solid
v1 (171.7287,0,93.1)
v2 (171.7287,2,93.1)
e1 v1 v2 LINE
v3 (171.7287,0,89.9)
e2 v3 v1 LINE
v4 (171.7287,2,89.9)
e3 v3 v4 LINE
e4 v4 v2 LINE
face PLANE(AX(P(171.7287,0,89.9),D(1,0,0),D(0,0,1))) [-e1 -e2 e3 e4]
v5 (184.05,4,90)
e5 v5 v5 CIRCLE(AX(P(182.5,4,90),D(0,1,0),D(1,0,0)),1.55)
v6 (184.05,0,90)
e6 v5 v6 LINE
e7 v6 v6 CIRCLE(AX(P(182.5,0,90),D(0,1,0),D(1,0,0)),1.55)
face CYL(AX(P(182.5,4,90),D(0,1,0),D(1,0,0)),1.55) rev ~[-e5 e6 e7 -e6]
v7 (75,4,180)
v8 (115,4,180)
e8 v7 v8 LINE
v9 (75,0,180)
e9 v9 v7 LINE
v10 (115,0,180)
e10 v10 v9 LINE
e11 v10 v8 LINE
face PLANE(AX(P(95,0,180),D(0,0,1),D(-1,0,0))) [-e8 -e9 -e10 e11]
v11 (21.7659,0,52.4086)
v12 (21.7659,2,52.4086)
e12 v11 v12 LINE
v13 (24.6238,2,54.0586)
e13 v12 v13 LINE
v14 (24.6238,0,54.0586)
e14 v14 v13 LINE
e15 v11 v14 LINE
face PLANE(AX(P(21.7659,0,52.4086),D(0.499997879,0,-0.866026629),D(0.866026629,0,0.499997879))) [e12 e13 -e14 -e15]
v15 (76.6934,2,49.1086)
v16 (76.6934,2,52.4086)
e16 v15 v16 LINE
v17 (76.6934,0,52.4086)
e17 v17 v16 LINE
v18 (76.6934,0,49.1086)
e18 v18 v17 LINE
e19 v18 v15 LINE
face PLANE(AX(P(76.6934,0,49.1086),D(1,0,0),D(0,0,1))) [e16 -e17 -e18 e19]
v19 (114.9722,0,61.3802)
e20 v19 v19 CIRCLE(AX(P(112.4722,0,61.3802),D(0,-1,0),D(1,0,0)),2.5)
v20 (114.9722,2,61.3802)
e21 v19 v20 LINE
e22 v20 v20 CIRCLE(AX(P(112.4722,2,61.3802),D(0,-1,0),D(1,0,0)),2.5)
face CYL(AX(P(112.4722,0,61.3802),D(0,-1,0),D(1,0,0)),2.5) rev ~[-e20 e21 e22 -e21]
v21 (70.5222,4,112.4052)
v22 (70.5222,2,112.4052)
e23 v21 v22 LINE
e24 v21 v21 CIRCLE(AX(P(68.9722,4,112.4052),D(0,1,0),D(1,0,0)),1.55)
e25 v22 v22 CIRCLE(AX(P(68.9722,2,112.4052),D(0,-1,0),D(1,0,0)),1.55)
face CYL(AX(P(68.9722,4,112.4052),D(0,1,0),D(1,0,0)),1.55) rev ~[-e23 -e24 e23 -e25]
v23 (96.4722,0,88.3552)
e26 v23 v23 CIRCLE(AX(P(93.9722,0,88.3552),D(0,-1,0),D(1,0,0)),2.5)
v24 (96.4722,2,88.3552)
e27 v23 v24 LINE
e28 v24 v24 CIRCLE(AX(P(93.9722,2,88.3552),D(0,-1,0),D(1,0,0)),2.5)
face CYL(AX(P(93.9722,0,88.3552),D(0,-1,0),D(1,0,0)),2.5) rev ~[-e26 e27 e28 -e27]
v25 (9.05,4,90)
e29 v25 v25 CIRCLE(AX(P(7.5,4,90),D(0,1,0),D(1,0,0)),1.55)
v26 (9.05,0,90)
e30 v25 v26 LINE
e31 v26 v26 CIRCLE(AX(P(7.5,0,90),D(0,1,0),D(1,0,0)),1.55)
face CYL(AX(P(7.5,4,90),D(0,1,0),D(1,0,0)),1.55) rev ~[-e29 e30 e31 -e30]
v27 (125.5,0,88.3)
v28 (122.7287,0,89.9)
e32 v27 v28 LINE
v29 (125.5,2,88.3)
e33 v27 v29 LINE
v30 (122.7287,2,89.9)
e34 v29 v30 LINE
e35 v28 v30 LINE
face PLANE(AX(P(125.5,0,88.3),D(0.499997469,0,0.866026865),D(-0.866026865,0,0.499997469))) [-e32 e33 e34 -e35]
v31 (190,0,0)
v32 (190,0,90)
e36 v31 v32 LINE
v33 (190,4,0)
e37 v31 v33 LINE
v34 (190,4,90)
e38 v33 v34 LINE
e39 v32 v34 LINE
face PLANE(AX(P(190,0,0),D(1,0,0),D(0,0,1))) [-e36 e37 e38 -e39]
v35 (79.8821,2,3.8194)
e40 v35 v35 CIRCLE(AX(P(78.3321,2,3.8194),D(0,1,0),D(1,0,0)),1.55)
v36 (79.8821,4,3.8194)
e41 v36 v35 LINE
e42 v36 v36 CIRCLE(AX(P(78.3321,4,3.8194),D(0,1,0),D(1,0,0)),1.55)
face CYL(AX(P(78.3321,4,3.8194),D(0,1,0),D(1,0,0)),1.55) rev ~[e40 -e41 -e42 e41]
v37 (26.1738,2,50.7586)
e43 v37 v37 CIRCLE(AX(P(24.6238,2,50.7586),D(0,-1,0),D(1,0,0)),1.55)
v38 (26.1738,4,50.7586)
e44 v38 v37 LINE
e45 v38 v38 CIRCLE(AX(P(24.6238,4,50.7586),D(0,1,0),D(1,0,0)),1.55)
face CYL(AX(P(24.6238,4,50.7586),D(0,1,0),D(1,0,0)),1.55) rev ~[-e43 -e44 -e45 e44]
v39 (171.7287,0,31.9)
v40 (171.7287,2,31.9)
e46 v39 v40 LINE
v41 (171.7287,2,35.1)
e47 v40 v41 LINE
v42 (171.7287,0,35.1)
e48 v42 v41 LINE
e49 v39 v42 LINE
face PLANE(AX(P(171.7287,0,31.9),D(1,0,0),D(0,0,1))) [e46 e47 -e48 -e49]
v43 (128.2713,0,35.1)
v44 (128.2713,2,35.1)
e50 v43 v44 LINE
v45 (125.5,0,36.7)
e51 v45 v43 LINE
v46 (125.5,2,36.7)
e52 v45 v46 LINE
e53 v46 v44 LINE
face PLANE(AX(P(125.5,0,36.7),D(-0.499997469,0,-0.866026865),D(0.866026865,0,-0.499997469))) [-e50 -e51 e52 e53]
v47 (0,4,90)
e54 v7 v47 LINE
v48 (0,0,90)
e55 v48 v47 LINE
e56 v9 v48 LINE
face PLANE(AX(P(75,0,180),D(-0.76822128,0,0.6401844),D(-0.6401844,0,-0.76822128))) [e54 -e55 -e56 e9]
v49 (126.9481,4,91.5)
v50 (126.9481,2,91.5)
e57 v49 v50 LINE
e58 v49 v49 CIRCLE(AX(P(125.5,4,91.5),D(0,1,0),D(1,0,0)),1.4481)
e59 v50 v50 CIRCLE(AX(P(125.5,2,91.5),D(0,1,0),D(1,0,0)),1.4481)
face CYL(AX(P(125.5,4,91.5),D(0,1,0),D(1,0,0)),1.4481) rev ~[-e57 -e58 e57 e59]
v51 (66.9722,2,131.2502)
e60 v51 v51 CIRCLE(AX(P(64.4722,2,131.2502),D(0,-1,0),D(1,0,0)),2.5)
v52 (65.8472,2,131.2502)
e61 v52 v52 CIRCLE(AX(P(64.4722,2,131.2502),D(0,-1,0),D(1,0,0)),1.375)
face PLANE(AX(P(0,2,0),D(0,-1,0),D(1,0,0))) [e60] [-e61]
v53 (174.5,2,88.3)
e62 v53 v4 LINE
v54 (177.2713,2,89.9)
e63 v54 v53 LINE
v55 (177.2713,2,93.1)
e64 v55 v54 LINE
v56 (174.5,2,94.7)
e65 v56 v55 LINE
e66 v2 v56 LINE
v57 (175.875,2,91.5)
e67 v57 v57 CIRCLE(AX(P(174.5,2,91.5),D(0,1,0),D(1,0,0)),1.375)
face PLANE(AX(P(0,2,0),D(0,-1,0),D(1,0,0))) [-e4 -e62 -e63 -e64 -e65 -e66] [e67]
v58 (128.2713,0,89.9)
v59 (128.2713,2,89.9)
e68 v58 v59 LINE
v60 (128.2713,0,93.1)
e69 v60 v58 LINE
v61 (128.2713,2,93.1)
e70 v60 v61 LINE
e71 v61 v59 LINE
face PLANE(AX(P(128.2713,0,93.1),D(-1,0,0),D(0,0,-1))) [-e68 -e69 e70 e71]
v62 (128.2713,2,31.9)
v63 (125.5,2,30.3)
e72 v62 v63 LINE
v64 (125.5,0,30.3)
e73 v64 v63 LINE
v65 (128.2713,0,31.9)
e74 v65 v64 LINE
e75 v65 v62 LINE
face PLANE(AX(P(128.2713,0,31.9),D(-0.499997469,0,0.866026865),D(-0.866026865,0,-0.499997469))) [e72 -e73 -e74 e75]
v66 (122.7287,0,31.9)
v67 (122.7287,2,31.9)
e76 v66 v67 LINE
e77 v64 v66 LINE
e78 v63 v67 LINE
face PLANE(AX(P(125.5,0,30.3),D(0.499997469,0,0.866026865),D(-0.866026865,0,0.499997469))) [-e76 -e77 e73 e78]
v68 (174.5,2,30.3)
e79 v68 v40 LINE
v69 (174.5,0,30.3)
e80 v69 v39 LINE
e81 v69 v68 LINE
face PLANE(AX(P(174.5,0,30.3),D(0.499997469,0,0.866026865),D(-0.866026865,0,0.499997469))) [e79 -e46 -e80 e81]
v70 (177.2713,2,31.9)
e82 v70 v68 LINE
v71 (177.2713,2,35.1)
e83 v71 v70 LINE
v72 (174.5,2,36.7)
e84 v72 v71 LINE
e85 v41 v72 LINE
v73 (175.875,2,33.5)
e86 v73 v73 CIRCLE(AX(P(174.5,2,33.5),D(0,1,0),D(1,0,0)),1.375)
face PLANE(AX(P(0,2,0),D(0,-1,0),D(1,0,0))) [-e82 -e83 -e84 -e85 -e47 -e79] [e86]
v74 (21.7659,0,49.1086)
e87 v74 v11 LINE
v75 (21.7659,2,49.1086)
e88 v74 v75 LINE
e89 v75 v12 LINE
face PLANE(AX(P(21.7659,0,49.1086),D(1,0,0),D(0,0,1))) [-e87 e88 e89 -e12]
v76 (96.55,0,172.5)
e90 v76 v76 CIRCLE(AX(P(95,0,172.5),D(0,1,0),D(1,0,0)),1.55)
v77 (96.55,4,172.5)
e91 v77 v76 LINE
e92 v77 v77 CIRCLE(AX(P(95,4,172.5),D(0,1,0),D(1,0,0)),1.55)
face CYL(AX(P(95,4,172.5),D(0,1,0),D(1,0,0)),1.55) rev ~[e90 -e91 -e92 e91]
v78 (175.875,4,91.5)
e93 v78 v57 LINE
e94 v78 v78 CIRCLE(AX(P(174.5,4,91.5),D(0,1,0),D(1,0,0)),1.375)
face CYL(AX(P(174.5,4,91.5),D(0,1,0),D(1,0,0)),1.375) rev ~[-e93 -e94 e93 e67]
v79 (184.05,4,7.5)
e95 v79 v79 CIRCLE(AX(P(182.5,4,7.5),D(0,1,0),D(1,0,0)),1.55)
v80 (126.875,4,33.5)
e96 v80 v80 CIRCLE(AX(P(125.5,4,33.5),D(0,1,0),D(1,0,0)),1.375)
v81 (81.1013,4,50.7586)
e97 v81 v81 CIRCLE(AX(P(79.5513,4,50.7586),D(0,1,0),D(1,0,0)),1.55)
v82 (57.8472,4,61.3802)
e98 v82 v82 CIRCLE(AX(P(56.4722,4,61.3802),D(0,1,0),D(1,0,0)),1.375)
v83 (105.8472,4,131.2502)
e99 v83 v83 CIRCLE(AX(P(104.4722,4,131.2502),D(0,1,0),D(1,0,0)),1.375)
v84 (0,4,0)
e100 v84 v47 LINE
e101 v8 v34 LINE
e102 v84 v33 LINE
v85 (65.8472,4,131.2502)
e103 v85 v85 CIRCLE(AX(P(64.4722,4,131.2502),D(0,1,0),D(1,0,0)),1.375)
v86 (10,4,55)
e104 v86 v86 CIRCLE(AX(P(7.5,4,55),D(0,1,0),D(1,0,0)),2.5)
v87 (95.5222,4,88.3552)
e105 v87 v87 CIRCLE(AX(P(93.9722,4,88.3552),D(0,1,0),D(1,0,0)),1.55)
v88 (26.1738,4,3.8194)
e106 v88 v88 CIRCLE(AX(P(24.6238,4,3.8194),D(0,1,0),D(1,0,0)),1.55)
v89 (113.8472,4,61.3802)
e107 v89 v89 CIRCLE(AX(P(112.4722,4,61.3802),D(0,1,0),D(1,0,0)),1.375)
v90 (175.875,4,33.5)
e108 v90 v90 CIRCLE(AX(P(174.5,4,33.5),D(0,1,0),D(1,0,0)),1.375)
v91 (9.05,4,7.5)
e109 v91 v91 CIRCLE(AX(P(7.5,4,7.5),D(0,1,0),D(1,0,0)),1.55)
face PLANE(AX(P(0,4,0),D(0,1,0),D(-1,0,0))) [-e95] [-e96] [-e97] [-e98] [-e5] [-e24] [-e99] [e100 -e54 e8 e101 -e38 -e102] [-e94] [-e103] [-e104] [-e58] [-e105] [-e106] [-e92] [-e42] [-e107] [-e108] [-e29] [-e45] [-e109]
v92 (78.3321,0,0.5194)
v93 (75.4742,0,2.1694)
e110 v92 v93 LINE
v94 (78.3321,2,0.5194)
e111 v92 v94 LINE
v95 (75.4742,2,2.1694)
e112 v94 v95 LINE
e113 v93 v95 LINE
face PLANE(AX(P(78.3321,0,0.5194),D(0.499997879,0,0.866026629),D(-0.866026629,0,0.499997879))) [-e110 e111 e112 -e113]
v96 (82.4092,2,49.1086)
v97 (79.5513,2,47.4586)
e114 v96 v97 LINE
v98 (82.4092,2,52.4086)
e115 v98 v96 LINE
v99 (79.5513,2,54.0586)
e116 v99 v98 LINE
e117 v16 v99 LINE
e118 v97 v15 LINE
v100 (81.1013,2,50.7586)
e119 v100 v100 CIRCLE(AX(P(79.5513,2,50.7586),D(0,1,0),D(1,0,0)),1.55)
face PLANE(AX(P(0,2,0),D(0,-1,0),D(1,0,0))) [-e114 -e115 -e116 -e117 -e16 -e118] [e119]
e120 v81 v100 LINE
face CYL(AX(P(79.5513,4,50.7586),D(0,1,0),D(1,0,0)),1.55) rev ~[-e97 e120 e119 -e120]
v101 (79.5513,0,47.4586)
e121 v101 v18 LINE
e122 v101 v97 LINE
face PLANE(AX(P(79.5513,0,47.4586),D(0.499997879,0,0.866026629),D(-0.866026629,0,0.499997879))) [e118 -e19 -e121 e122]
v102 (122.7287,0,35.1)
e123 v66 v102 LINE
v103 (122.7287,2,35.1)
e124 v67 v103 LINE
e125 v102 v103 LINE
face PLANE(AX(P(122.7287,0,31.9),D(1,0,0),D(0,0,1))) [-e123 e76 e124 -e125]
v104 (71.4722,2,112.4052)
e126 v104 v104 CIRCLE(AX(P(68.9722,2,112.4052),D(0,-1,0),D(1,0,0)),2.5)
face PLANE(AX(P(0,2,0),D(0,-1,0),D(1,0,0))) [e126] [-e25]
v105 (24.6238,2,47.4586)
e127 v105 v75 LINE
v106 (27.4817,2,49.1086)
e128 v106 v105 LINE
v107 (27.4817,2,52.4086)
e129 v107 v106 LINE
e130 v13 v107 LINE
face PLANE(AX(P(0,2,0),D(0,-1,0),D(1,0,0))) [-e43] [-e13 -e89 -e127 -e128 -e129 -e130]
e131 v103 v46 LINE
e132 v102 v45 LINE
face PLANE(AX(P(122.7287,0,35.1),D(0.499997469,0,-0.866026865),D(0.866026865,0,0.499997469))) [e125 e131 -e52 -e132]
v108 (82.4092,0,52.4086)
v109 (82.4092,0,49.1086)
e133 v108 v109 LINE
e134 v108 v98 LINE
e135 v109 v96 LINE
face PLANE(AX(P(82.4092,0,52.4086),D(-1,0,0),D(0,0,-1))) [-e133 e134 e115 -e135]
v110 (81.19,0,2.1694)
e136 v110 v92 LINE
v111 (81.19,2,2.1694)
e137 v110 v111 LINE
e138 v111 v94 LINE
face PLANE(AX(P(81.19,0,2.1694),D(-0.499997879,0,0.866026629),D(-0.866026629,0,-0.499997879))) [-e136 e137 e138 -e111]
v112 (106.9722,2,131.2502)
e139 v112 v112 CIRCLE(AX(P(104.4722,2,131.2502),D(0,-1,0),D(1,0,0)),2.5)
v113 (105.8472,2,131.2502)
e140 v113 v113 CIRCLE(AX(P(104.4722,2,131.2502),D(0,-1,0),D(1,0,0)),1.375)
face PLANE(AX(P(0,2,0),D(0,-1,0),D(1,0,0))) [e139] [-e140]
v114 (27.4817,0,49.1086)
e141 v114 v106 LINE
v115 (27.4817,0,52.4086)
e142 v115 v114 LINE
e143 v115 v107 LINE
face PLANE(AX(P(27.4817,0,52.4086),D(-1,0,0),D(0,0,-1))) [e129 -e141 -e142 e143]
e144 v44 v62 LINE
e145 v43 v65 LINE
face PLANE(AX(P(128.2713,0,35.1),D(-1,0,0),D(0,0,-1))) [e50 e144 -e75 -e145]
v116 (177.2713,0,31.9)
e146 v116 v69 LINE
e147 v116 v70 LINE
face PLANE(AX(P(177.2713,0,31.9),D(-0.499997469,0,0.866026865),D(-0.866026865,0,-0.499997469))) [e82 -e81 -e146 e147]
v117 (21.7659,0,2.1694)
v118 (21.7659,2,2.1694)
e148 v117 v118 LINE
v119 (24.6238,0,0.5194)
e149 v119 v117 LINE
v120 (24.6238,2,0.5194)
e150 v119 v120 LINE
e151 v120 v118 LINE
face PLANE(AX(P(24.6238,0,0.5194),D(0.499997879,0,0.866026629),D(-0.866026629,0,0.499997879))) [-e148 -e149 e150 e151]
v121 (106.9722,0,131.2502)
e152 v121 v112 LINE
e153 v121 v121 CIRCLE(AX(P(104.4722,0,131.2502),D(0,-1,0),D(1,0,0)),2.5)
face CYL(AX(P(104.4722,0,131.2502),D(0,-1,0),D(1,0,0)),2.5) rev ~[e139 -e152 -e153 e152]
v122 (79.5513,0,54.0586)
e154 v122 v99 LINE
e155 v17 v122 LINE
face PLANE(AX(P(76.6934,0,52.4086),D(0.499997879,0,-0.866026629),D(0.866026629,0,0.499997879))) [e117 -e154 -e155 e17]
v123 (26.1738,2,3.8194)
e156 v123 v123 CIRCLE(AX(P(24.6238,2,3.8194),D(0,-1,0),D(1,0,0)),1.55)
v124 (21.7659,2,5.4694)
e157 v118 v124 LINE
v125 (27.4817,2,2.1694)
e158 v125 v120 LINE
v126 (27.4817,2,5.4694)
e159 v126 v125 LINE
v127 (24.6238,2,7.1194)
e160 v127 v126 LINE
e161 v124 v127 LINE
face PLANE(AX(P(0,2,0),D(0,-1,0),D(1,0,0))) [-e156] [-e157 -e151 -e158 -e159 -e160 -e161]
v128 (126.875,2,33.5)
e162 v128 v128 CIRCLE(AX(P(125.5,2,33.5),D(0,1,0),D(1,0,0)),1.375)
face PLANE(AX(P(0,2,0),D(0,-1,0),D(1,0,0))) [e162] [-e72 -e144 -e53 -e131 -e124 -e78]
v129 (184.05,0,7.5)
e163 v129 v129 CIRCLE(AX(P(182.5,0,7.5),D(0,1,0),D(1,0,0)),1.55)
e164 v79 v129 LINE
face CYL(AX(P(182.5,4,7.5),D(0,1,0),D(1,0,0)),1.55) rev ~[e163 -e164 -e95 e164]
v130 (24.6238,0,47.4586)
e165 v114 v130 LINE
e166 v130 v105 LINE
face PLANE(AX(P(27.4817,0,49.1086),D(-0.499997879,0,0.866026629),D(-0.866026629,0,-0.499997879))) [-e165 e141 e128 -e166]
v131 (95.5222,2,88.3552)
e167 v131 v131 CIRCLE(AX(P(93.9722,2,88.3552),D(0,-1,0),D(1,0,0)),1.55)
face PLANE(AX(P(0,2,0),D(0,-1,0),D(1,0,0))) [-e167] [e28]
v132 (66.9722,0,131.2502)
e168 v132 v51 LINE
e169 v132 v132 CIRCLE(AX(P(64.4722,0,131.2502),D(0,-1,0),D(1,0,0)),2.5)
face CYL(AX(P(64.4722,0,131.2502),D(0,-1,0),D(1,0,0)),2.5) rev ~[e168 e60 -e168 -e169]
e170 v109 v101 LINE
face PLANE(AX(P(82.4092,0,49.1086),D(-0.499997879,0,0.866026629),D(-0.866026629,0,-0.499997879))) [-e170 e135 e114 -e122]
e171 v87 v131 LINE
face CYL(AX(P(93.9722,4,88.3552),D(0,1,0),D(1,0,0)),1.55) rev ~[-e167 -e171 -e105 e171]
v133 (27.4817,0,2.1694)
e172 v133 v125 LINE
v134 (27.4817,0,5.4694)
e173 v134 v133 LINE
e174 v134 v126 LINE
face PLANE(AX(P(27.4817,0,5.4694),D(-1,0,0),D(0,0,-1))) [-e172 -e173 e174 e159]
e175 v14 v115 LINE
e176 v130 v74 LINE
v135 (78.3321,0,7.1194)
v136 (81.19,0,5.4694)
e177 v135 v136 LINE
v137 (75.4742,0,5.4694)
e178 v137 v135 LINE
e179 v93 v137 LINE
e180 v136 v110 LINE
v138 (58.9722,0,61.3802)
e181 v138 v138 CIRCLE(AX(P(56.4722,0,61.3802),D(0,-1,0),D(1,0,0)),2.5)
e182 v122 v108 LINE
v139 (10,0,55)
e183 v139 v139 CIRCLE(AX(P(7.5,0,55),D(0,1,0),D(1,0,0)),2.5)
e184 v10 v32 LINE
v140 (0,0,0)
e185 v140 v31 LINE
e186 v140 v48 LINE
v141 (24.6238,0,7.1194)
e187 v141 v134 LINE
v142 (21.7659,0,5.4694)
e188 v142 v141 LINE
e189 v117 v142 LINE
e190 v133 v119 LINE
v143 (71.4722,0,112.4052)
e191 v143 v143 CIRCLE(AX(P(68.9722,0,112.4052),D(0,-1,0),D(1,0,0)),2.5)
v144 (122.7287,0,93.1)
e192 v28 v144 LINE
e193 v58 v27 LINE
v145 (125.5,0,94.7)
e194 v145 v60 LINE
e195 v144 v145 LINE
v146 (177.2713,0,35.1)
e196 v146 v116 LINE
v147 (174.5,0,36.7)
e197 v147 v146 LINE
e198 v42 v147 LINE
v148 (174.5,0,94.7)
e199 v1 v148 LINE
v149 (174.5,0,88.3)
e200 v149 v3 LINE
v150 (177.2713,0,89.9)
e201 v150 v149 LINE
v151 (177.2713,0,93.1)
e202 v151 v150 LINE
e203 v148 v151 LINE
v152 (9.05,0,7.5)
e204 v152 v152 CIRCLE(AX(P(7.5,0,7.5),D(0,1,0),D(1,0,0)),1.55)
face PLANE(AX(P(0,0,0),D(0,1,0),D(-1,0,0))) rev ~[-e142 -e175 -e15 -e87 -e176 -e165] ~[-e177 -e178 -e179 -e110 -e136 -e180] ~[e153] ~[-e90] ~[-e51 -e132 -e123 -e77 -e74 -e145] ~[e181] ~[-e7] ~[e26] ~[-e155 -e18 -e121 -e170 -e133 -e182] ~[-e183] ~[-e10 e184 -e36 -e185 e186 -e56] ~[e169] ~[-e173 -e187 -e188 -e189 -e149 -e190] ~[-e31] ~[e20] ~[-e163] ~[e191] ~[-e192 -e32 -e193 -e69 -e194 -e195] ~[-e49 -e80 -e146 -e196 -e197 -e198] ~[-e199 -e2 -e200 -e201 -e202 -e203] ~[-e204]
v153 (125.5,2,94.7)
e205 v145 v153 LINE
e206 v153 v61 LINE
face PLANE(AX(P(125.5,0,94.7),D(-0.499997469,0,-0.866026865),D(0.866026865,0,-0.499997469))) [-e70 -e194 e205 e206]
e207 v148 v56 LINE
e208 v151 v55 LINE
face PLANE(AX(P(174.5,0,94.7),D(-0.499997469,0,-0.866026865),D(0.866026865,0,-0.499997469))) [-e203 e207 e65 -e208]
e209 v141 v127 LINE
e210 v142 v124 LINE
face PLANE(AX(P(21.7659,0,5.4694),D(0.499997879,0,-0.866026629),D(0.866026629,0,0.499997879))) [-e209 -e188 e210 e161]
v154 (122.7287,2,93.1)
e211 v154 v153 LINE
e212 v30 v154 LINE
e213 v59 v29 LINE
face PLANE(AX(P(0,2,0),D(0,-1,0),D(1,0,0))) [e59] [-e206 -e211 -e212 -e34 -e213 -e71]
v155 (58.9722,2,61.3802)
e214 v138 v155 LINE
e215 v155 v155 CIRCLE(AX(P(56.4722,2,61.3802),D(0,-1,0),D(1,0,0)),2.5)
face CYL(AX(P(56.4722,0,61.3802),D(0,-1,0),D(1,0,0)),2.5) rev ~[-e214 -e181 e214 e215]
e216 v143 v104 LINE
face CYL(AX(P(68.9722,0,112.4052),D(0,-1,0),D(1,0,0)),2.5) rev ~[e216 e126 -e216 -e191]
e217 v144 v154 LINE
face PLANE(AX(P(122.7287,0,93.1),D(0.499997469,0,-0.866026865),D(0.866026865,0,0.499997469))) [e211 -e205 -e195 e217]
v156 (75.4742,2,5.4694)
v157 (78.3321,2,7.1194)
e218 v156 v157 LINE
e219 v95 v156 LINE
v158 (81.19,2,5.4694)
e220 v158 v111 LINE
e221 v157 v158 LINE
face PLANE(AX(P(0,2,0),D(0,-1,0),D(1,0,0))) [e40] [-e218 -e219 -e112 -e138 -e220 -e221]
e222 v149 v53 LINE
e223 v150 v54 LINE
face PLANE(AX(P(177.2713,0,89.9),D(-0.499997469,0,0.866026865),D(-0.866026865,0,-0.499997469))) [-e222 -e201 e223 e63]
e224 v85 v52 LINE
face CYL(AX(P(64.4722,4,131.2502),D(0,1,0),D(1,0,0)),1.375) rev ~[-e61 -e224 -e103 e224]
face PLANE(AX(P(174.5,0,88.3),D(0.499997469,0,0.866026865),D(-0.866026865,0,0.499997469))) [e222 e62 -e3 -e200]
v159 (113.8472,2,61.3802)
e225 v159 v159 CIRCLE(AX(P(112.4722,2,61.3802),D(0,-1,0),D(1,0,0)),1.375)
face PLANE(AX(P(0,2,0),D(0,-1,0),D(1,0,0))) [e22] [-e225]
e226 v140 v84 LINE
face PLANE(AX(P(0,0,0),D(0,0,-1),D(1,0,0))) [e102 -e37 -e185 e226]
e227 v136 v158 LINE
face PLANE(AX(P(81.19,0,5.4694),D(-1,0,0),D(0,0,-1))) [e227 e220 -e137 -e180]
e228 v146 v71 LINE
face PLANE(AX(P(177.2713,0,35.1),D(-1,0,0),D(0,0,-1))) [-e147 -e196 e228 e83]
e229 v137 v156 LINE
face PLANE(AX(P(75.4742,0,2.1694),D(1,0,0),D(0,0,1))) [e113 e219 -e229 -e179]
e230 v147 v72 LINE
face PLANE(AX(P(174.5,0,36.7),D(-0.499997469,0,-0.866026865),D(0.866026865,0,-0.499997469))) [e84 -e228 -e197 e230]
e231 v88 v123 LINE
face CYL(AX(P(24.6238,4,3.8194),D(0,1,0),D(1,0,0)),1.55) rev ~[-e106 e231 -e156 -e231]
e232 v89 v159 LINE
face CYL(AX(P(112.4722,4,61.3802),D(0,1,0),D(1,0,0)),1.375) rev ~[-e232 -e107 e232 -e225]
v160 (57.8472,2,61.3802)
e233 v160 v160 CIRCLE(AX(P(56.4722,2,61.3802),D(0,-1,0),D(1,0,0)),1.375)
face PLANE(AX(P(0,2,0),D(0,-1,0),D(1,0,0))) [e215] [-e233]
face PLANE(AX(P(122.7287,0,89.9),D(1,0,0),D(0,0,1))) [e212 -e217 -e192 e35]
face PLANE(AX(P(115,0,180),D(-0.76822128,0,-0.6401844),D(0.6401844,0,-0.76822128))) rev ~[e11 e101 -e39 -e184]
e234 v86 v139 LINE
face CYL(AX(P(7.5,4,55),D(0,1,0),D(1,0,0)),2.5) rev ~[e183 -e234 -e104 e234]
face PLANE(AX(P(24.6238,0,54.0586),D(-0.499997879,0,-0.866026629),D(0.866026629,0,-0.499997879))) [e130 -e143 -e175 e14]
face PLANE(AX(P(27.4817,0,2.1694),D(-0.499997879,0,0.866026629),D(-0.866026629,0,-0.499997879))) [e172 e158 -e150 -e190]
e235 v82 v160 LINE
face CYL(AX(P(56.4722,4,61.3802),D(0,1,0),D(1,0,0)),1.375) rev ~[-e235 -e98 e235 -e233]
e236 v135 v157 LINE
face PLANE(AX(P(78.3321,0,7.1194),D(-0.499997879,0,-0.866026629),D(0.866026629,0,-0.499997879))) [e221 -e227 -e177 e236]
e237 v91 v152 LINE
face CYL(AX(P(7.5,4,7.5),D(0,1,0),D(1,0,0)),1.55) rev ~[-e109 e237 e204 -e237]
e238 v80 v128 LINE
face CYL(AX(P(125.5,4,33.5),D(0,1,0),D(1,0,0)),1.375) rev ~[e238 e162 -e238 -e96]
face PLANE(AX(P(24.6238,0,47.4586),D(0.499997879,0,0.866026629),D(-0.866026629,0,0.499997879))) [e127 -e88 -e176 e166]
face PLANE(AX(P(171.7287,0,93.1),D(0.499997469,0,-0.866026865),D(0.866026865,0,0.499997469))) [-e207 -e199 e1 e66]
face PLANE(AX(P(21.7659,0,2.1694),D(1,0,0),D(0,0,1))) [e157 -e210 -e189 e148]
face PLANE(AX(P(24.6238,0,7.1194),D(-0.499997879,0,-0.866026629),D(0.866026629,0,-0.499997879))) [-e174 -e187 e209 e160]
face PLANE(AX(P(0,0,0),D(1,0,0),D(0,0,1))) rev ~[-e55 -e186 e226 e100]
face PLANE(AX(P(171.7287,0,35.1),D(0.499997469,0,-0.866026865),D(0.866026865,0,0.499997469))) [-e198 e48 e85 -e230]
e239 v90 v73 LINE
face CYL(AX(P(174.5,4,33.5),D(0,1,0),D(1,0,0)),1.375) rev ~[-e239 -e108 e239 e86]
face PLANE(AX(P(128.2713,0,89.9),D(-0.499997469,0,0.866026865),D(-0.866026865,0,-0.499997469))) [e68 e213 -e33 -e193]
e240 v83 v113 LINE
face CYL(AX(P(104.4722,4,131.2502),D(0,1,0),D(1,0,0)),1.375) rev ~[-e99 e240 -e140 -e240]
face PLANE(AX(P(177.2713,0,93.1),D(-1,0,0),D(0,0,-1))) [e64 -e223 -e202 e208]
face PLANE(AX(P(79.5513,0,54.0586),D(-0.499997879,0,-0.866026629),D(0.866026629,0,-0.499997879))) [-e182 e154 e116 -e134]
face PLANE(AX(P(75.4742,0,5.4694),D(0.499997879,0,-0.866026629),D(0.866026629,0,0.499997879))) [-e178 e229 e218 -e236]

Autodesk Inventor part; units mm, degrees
ref_plane "YZ Plane" through (0, 0, 0) normal (1, 0, 0) x (0, 1, 0)
ref_plane "XZ Plane" through (0, 0, 0) normal (0, 1, 0) x (-1, 0, 0)
ref_plane "XY Plane" through (0, 0, 0) normal (0, 0, 1) x (1, 0, 0)
sketch "Sketch1" plane through (0, 0, 0) normal (0, 1, 0) x (-1, 0, 0)
  line L0 (0, 0) -> (-190, 0)
  line L1 (-95, 180) -> (-75, 180)
  line L2 (-75, 180) -> (0, 90)
  line L3 (-95, 180) -> (-115, 180)
  line L4 (-115, 180) -> (-190, 90)
  line L5 (0, 0) -> (0, 90)
  line L6 (-190, 0) -> (-190, 90)
  dimension "d1" = 190
  dimension "d39" = 20
  dimension "d40" = 20
extrude "Extrusion1" add sketch "Sketch1" along normal blind 4
sketch "Sketch14" plane through (0, 4, 0) normal (0, 1, 0) x (1, 0, 0)
  line L0 (190, 0) -> (0, 0) projected
  line L1 (0, 0) -> (0, -7.5)
  line L2 (0, 0) -> (0, -15) projected
  line L3 (0, -90) -> (75, -180) projected
  circle A0 centre (7.5, -7.5) radius 1.55
  circle A1 centre (7.5, -90) radius 1.55
  line L4 (75, -180) -> (115, -180) projected
  circle A2 centre (182.5, -7.5) radius 1.55
  circle A3 centre (182.5, -90) radius 1.55
  circle A4 centre (95, -172.5) radius 1.55
  dimension "d68" = 7.5
  dimension "d71" = 3.1
  dimension "d72" = 3.1
  dimension "d74" = 3.1
extrude "Extrusion10" cut sketch "Sketch14" against normal blind 10
sketch "Sketch17" plane through (0, 4, 0) normal (0, 1, 0) x (1, 0, 0)
  line L0 (93.28, -54.34) -> (12, -54.34)
  line L1 (12, -54.34) -> (12, -1)
  line L2 (12, -1) -> (93.28, -1)
  line L3 (93.28, -1) -> (93.28, -54.34)
  line L4 (93.28, -54.34) -> (93.28, -50.7586)
  circle A0 centre (79.5513, -50.7586) radius 1.55
  circle A1 centre (24.6238, -50.7586) radius 1.55
  line L5 (93.28, -1) -> (93.28, -3.8194)
  circle A2 centre (78.3321, -3.8194) radius 1.55
  circle A3 centre (24.6238, -3.8194) radius 1.55
  point P0 (0, 0)
  dimension "d101" = 81.28
  dimension "d102" = 53.34
  dimension "d106" = 3.1
  dimension "d107" = 3.1
  dimension "d111" = 3.1
  dimension "d112" = 3.1
  dimension "d113" = 14.9479
  dimension "d114" = 2.8194
  dimension "d115" = 12.6238
  dimension "d116" = 2.8194
  dimension "d117" = 12.6238
  dimension "d118" = 3.5814
  dimension "d119" = 3.5814
  dimension "d120" = 13.7287
sketch "Sketch18" plane through (0, 4, 0) normal (0, 1, 0) x (1, 0, 0)
  line L0 (190, 0) -> (0, 0) projected
  line L1 (190, -90) -> (190, 0) projected
  line L2 (175, -10) -> (125, -10)
  line L3 (122, -13) -> (122, -92)
  line L4 (125, -95) -> (175, -95)
  line L5 (178, -92) -> (178, -13)
  circle A0 centre (174.5, -91.5) radius 1.375
  circle A1 centre (125.5, -91.5) radius 1.4481
  circle A2 centre (125.5, -33.5) radius 1.375
  circle A3 centre (174.5, -33.5) radius 1.375
  arc A4 (125, -10) -> (122, -13) centre (125, -13) ccw
  arc A5 (178, -13) -> (175, -10) centre (175, -13) ccw
  arc A6 (175, -95) -> (178, -92) centre (175, -92) ccw
  arc A7 (122, -92) -> (125, -95) centre (125, -92) ccw
  point P0 (122, -10)
  dimension "d129" = 2.75
  dimension "d130" = 3.5
  dimension "d131" = 3.5
  dimension "d132" = 49
  dimension "d133" = 3.5
  dimension "d134" = 2.75
  dimension "d135" = 3.5
  dimension "d136" = 58
  dimension "d137" = 2.75
  dimension "d138" = 3.5
  dimension "d139" = 49
  dimension "d140" = 3
  dimension "d141" = 3
  dimension "d142" = 3
  dimension "d143" = 3
sketch "Sketch19" plane through (0, 4, 0) normal (0, 1, 0) x (1, 0, 0)
  line L0 (49.4722, -56.3802) -> (119.4722, -56.3802)
  line L1 (119.4722, -56.3802) -> (119.4722, -154.8802)
  line L2 (119.4722, -154.8802) -> (49.4722, -154.8802)
  line L3 (49.4722, -154.8802) -> (49.4722, -56.3802)
  circle A0 centre (56.4722, -61.3802) radius 1.375
  circle A1 centre (112.4722, -61.3802) radius 1.375
  circle A2 centre (104.4722, -131.2502) radius 1.375
  circle A3 centre (64.4722, -131.2502) radius 1.375
  point P0 (0, 0)
  dimension "d144" = 70
  dimension "d145" = 98.5
  dimension "d151" = 2.75
  dimension "d152" = 2.75
  dimension "d153" = 2.75
  dimension "d154" = 2.75
  dimension "d155" = 5
  dimension "d156" = 69.87
  dimension "d157" = 5
  dimension "d158" = 69.87
  dimension "d159" = 40
  dimension "d160" = 56
extrude "Extrusion13" cut sketch "Sketch17" against normal through all contours A0 | A1 | A2 | A3
extrude "Extrusion14" cut sketch "Sketch18" against normal through all contours A0 | A1 | A2 | A3
extrude "Extrusion15" cut sketch "Sketch19" against normal through all contours A0 | A1 | A2 | A3
sketch "Sketch22" plane through (0, 0, 0) normal (0, -1, 0) x (1, 0, 0)
  circle A0 centre (112.4722, 61.3802) radius 1.375 projected
  circle A1 centre (112.4722, 61.3802) radius 2.5
  circle A2 centre (56.4722, 61.3802) radius 1.375 projected
  circle A3 centre (56.4722, 61.3802) radius 2.5
  circle A4 centre (64.4722, 131.2502) radius 1.375 projected
  circle A5 centre (64.4722, 131.2502) radius 2.5
  circle A6 centre (104.4722, 131.2502) radius 1.375 projected
  circle A7 centre (104.4722, 131.2502) radius 2.5
  point P0 (0, 0)
  dimension "d171" = 5
  dimension "d172" = 5
  dimension "d173" = 5
  dimension "d174" = 5
extrude "Extrusion16" cut sketch "Sketch22" against normal blind 2
sketch "Sketch23" plane through (0, 0, 0) normal (0, -1, 0) x (1, 0, 0)
  circle A0 centre (125.5, 33.5) radius 1.375 projected
  circle A1 centre (125.5, 91.5) radius 1.4481 projected
  circle A2 centre (174.5, 91.5) radius 1.375 projected
  circle A3 centre (174.5, 33.5) radius 1.375 projected
  line L0 (174.5, 30.3) -> (171.7287, 31.9)
  line L1 (171.7287, 31.9) -> (171.7287, 35.1)
  line L2 (171.7287, 35.1) -> (174.5, 36.7)
  line L3 (174.5, 36.7) -> (177.2713, 35.1)
  line L4 (177.2713, 35.1) -> (177.2713, 31.9)
  line L5 (177.2713, 31.9) -> (174.5, 30.3)
  line L6 (125.5, 30.3) -> (122.7287, 31.9)
  line L7 (122.7287, 31.9) -> (122.7287, 35.1)
  line L8 (122.7287, 35.1) -> (125.5, 36.7)
  line L9 (125.5, 36.7) -> (128.2713, 35.1)
  line L10 (128.2713, 35.1) -> (128.2713, 31.9)
  line L11 (128.2713, 31.9) -> (125.5, 30.3)
  line L12 (125.5, 88.3) -> (122.7287, 89.9)
  line L13 (122.7287, 89.9) -> (122.7287, 93.1)
  line L14 (122.7287, 93.1) -> (125.5, 94.7)
  line L15 (125.5, 94.7) -> (128.2713, 93.1)
  line L16 (128.2713, 93.1) -> (128.2713, 89.9)
  line L17 (128.2713, 89.9) -> (125.5, 88.3)
  line L18 (174.5, 88.3) -> (171.7287, 89.9)
  line L19 (171.7287, 89.9) -> (171.7287, 93.1)
  line L20 (171.7287, 93.1) -> (174.5, 94.7)
  line L21 (174.5, 94.7) -> (177.2713, 93.1)
  line L22 (177.2713, 93.1) -> (177.2713, 89.9)
  line L23 (177.2713, 89.9) -> (174.5, 88.3)
  circle A4 centre (78.3321, 3.8194) radius 1.55 projected
  circle A5 centre (79.5513, 50.7586) radius 1.55 projected
  circle A6 centre (24.6238, 50.7586) radius 1.55 projected
  circle A7 centre (24.6238, 3.8194) radius 1.55 projected
  line L24 (78.3321, 0.5194) -> (75.4742, 2.1694)
  line L25 (75.4742, 2.1694) -> (75.4742, 5.4694)
  line L26 (75.4742, 5.4694) -> (78.3321, 7.1194)
  line L27 (78.3321, 7.1194) -> (81.19, 5.4694)
  line L28 (81.19, 5.4694) -> (81.19, 2.1694)
  line L29 (81.19, 2.1694) -> (78.3321, 0.5194)
  line L30 (24.6238, 0.5194) -> (21.7659, 2.1694)
  line L31 (21.7659, 2.1694) -> (21.7659, 5.4694)
  line L32 (21.7659, 5.4694) -> (24.6238, 7.1194)
  line L33 (24.6238, 7.1194) -> (27.4817, 5.4694)
  line L34 (27.4817, 5.4694) -> (27.4817, 2.1694)
  line L35 (27.4817, 2.1694) -> (24.6238, 0.5194)
  line L36 (79.5513, 47.4586) -> (76.6934, 49.1086)
  line L37 (76.6934, 49.1086) -> (76.6934, 52.4086)
  line L38 (76.6934, 52.4086) -> (79.5513, 54.0586)
  line L39 (79.5513, 54.0586) -> (82.4092, 52.4086)
  line L40 (82.4092, 52.4086) -> (82.4092, 49.1086)
  line L41 (82.4092, 49.1086) -> (79.5513, 47.4586)
  line L42 (24.6238, 47.4586) -> (21.7659, 49.1086)
  line L43 (21.7659, 49.1086) -> (21.7659, 52.4086)
  line L44 (21.7659, 52.4086) -> (24.6238, 54.0586)
  line L45 (24.6238, 54.0586) -> (27.4817, 52.4086)
  line L46 (27.4817, 52.4086) -> (27.4817, 49.1086)
  line L47 (27.4817, 49.1086) -> (24.6238, 47.4586)
  point P0 (0, 0)
extrude "Extrusion17" cut sketch "Sketch23" against normal blind 2 contours A0 | A1 | A2 | A3 | L0 L1 L2 L3 L4 L5 | L6 L7 L8 L9 L10 L11 | L12 L13 L14 L15 L16 L17 | L18 L19 L20 L21 L22 L23 | A4 | A5 | L24 L25 L26 L27 L28 L29 | L30 L31 L32 L33 L34 L35 | L36 L37 L38 L39 L40 L41 | L42 L43 L44 L45 L46 L47
sketch "Sketch24" plane through (0, 4, 0) normal (0, 1, 0) x (1, 0, 0)
  circle A0 centre (56.4722, -61.3802) radius 2.5 projected
  circle A1 centre (93.9722, -88.3552) radius 1.55
  circle A2 centre (68.9722, -112.4052) radius 1.55
  point P0 (0, 0)
  dimension "d206" = 3.1
  dimension "d208" = 3.1
  dimension "d209" = 25
  dimension "d210" = 24.05
extrude "Extrusion18" cut sketch "Sketch24" against normal blind 10 contours A1 | A2
sketch "Sketch25" plane through (0, 4, 0) normal (0, 1, 0) x (1, 0, 0)
  circle A0 centre (7.5, -90) radius 1.55 projected
  circle A1 centre (7.5, -55) radius 2.5
  point P0 (0, 0)
  dimension "d202" = 5
extrude "Extrusion19" cut sketch "Sketch25" against normal blind 10 contours A1
sketch "Sketch26" plane through (0, 0, 0) normal (0, -1, 0) x (1, 0, 0)
  circle A0 centre (93.9722, 88.3552) radius 1.55 projected
  circle A1 centre (93.9722, 88.3552) radius 2.5
  circle A2 centre (68.9722, 112.4052) radius 1.55 projected
  circle A3 centre (68.9722, 112.4052) radius 2.5
  point P0 (0, 0)
  dimension "d211" = 5
  dimension "d212" = 5
extrude "Extrusion20" cut sketch "Sketch26" against normal blind 2
properties part number "bp_v2" material "PET Plastic"
